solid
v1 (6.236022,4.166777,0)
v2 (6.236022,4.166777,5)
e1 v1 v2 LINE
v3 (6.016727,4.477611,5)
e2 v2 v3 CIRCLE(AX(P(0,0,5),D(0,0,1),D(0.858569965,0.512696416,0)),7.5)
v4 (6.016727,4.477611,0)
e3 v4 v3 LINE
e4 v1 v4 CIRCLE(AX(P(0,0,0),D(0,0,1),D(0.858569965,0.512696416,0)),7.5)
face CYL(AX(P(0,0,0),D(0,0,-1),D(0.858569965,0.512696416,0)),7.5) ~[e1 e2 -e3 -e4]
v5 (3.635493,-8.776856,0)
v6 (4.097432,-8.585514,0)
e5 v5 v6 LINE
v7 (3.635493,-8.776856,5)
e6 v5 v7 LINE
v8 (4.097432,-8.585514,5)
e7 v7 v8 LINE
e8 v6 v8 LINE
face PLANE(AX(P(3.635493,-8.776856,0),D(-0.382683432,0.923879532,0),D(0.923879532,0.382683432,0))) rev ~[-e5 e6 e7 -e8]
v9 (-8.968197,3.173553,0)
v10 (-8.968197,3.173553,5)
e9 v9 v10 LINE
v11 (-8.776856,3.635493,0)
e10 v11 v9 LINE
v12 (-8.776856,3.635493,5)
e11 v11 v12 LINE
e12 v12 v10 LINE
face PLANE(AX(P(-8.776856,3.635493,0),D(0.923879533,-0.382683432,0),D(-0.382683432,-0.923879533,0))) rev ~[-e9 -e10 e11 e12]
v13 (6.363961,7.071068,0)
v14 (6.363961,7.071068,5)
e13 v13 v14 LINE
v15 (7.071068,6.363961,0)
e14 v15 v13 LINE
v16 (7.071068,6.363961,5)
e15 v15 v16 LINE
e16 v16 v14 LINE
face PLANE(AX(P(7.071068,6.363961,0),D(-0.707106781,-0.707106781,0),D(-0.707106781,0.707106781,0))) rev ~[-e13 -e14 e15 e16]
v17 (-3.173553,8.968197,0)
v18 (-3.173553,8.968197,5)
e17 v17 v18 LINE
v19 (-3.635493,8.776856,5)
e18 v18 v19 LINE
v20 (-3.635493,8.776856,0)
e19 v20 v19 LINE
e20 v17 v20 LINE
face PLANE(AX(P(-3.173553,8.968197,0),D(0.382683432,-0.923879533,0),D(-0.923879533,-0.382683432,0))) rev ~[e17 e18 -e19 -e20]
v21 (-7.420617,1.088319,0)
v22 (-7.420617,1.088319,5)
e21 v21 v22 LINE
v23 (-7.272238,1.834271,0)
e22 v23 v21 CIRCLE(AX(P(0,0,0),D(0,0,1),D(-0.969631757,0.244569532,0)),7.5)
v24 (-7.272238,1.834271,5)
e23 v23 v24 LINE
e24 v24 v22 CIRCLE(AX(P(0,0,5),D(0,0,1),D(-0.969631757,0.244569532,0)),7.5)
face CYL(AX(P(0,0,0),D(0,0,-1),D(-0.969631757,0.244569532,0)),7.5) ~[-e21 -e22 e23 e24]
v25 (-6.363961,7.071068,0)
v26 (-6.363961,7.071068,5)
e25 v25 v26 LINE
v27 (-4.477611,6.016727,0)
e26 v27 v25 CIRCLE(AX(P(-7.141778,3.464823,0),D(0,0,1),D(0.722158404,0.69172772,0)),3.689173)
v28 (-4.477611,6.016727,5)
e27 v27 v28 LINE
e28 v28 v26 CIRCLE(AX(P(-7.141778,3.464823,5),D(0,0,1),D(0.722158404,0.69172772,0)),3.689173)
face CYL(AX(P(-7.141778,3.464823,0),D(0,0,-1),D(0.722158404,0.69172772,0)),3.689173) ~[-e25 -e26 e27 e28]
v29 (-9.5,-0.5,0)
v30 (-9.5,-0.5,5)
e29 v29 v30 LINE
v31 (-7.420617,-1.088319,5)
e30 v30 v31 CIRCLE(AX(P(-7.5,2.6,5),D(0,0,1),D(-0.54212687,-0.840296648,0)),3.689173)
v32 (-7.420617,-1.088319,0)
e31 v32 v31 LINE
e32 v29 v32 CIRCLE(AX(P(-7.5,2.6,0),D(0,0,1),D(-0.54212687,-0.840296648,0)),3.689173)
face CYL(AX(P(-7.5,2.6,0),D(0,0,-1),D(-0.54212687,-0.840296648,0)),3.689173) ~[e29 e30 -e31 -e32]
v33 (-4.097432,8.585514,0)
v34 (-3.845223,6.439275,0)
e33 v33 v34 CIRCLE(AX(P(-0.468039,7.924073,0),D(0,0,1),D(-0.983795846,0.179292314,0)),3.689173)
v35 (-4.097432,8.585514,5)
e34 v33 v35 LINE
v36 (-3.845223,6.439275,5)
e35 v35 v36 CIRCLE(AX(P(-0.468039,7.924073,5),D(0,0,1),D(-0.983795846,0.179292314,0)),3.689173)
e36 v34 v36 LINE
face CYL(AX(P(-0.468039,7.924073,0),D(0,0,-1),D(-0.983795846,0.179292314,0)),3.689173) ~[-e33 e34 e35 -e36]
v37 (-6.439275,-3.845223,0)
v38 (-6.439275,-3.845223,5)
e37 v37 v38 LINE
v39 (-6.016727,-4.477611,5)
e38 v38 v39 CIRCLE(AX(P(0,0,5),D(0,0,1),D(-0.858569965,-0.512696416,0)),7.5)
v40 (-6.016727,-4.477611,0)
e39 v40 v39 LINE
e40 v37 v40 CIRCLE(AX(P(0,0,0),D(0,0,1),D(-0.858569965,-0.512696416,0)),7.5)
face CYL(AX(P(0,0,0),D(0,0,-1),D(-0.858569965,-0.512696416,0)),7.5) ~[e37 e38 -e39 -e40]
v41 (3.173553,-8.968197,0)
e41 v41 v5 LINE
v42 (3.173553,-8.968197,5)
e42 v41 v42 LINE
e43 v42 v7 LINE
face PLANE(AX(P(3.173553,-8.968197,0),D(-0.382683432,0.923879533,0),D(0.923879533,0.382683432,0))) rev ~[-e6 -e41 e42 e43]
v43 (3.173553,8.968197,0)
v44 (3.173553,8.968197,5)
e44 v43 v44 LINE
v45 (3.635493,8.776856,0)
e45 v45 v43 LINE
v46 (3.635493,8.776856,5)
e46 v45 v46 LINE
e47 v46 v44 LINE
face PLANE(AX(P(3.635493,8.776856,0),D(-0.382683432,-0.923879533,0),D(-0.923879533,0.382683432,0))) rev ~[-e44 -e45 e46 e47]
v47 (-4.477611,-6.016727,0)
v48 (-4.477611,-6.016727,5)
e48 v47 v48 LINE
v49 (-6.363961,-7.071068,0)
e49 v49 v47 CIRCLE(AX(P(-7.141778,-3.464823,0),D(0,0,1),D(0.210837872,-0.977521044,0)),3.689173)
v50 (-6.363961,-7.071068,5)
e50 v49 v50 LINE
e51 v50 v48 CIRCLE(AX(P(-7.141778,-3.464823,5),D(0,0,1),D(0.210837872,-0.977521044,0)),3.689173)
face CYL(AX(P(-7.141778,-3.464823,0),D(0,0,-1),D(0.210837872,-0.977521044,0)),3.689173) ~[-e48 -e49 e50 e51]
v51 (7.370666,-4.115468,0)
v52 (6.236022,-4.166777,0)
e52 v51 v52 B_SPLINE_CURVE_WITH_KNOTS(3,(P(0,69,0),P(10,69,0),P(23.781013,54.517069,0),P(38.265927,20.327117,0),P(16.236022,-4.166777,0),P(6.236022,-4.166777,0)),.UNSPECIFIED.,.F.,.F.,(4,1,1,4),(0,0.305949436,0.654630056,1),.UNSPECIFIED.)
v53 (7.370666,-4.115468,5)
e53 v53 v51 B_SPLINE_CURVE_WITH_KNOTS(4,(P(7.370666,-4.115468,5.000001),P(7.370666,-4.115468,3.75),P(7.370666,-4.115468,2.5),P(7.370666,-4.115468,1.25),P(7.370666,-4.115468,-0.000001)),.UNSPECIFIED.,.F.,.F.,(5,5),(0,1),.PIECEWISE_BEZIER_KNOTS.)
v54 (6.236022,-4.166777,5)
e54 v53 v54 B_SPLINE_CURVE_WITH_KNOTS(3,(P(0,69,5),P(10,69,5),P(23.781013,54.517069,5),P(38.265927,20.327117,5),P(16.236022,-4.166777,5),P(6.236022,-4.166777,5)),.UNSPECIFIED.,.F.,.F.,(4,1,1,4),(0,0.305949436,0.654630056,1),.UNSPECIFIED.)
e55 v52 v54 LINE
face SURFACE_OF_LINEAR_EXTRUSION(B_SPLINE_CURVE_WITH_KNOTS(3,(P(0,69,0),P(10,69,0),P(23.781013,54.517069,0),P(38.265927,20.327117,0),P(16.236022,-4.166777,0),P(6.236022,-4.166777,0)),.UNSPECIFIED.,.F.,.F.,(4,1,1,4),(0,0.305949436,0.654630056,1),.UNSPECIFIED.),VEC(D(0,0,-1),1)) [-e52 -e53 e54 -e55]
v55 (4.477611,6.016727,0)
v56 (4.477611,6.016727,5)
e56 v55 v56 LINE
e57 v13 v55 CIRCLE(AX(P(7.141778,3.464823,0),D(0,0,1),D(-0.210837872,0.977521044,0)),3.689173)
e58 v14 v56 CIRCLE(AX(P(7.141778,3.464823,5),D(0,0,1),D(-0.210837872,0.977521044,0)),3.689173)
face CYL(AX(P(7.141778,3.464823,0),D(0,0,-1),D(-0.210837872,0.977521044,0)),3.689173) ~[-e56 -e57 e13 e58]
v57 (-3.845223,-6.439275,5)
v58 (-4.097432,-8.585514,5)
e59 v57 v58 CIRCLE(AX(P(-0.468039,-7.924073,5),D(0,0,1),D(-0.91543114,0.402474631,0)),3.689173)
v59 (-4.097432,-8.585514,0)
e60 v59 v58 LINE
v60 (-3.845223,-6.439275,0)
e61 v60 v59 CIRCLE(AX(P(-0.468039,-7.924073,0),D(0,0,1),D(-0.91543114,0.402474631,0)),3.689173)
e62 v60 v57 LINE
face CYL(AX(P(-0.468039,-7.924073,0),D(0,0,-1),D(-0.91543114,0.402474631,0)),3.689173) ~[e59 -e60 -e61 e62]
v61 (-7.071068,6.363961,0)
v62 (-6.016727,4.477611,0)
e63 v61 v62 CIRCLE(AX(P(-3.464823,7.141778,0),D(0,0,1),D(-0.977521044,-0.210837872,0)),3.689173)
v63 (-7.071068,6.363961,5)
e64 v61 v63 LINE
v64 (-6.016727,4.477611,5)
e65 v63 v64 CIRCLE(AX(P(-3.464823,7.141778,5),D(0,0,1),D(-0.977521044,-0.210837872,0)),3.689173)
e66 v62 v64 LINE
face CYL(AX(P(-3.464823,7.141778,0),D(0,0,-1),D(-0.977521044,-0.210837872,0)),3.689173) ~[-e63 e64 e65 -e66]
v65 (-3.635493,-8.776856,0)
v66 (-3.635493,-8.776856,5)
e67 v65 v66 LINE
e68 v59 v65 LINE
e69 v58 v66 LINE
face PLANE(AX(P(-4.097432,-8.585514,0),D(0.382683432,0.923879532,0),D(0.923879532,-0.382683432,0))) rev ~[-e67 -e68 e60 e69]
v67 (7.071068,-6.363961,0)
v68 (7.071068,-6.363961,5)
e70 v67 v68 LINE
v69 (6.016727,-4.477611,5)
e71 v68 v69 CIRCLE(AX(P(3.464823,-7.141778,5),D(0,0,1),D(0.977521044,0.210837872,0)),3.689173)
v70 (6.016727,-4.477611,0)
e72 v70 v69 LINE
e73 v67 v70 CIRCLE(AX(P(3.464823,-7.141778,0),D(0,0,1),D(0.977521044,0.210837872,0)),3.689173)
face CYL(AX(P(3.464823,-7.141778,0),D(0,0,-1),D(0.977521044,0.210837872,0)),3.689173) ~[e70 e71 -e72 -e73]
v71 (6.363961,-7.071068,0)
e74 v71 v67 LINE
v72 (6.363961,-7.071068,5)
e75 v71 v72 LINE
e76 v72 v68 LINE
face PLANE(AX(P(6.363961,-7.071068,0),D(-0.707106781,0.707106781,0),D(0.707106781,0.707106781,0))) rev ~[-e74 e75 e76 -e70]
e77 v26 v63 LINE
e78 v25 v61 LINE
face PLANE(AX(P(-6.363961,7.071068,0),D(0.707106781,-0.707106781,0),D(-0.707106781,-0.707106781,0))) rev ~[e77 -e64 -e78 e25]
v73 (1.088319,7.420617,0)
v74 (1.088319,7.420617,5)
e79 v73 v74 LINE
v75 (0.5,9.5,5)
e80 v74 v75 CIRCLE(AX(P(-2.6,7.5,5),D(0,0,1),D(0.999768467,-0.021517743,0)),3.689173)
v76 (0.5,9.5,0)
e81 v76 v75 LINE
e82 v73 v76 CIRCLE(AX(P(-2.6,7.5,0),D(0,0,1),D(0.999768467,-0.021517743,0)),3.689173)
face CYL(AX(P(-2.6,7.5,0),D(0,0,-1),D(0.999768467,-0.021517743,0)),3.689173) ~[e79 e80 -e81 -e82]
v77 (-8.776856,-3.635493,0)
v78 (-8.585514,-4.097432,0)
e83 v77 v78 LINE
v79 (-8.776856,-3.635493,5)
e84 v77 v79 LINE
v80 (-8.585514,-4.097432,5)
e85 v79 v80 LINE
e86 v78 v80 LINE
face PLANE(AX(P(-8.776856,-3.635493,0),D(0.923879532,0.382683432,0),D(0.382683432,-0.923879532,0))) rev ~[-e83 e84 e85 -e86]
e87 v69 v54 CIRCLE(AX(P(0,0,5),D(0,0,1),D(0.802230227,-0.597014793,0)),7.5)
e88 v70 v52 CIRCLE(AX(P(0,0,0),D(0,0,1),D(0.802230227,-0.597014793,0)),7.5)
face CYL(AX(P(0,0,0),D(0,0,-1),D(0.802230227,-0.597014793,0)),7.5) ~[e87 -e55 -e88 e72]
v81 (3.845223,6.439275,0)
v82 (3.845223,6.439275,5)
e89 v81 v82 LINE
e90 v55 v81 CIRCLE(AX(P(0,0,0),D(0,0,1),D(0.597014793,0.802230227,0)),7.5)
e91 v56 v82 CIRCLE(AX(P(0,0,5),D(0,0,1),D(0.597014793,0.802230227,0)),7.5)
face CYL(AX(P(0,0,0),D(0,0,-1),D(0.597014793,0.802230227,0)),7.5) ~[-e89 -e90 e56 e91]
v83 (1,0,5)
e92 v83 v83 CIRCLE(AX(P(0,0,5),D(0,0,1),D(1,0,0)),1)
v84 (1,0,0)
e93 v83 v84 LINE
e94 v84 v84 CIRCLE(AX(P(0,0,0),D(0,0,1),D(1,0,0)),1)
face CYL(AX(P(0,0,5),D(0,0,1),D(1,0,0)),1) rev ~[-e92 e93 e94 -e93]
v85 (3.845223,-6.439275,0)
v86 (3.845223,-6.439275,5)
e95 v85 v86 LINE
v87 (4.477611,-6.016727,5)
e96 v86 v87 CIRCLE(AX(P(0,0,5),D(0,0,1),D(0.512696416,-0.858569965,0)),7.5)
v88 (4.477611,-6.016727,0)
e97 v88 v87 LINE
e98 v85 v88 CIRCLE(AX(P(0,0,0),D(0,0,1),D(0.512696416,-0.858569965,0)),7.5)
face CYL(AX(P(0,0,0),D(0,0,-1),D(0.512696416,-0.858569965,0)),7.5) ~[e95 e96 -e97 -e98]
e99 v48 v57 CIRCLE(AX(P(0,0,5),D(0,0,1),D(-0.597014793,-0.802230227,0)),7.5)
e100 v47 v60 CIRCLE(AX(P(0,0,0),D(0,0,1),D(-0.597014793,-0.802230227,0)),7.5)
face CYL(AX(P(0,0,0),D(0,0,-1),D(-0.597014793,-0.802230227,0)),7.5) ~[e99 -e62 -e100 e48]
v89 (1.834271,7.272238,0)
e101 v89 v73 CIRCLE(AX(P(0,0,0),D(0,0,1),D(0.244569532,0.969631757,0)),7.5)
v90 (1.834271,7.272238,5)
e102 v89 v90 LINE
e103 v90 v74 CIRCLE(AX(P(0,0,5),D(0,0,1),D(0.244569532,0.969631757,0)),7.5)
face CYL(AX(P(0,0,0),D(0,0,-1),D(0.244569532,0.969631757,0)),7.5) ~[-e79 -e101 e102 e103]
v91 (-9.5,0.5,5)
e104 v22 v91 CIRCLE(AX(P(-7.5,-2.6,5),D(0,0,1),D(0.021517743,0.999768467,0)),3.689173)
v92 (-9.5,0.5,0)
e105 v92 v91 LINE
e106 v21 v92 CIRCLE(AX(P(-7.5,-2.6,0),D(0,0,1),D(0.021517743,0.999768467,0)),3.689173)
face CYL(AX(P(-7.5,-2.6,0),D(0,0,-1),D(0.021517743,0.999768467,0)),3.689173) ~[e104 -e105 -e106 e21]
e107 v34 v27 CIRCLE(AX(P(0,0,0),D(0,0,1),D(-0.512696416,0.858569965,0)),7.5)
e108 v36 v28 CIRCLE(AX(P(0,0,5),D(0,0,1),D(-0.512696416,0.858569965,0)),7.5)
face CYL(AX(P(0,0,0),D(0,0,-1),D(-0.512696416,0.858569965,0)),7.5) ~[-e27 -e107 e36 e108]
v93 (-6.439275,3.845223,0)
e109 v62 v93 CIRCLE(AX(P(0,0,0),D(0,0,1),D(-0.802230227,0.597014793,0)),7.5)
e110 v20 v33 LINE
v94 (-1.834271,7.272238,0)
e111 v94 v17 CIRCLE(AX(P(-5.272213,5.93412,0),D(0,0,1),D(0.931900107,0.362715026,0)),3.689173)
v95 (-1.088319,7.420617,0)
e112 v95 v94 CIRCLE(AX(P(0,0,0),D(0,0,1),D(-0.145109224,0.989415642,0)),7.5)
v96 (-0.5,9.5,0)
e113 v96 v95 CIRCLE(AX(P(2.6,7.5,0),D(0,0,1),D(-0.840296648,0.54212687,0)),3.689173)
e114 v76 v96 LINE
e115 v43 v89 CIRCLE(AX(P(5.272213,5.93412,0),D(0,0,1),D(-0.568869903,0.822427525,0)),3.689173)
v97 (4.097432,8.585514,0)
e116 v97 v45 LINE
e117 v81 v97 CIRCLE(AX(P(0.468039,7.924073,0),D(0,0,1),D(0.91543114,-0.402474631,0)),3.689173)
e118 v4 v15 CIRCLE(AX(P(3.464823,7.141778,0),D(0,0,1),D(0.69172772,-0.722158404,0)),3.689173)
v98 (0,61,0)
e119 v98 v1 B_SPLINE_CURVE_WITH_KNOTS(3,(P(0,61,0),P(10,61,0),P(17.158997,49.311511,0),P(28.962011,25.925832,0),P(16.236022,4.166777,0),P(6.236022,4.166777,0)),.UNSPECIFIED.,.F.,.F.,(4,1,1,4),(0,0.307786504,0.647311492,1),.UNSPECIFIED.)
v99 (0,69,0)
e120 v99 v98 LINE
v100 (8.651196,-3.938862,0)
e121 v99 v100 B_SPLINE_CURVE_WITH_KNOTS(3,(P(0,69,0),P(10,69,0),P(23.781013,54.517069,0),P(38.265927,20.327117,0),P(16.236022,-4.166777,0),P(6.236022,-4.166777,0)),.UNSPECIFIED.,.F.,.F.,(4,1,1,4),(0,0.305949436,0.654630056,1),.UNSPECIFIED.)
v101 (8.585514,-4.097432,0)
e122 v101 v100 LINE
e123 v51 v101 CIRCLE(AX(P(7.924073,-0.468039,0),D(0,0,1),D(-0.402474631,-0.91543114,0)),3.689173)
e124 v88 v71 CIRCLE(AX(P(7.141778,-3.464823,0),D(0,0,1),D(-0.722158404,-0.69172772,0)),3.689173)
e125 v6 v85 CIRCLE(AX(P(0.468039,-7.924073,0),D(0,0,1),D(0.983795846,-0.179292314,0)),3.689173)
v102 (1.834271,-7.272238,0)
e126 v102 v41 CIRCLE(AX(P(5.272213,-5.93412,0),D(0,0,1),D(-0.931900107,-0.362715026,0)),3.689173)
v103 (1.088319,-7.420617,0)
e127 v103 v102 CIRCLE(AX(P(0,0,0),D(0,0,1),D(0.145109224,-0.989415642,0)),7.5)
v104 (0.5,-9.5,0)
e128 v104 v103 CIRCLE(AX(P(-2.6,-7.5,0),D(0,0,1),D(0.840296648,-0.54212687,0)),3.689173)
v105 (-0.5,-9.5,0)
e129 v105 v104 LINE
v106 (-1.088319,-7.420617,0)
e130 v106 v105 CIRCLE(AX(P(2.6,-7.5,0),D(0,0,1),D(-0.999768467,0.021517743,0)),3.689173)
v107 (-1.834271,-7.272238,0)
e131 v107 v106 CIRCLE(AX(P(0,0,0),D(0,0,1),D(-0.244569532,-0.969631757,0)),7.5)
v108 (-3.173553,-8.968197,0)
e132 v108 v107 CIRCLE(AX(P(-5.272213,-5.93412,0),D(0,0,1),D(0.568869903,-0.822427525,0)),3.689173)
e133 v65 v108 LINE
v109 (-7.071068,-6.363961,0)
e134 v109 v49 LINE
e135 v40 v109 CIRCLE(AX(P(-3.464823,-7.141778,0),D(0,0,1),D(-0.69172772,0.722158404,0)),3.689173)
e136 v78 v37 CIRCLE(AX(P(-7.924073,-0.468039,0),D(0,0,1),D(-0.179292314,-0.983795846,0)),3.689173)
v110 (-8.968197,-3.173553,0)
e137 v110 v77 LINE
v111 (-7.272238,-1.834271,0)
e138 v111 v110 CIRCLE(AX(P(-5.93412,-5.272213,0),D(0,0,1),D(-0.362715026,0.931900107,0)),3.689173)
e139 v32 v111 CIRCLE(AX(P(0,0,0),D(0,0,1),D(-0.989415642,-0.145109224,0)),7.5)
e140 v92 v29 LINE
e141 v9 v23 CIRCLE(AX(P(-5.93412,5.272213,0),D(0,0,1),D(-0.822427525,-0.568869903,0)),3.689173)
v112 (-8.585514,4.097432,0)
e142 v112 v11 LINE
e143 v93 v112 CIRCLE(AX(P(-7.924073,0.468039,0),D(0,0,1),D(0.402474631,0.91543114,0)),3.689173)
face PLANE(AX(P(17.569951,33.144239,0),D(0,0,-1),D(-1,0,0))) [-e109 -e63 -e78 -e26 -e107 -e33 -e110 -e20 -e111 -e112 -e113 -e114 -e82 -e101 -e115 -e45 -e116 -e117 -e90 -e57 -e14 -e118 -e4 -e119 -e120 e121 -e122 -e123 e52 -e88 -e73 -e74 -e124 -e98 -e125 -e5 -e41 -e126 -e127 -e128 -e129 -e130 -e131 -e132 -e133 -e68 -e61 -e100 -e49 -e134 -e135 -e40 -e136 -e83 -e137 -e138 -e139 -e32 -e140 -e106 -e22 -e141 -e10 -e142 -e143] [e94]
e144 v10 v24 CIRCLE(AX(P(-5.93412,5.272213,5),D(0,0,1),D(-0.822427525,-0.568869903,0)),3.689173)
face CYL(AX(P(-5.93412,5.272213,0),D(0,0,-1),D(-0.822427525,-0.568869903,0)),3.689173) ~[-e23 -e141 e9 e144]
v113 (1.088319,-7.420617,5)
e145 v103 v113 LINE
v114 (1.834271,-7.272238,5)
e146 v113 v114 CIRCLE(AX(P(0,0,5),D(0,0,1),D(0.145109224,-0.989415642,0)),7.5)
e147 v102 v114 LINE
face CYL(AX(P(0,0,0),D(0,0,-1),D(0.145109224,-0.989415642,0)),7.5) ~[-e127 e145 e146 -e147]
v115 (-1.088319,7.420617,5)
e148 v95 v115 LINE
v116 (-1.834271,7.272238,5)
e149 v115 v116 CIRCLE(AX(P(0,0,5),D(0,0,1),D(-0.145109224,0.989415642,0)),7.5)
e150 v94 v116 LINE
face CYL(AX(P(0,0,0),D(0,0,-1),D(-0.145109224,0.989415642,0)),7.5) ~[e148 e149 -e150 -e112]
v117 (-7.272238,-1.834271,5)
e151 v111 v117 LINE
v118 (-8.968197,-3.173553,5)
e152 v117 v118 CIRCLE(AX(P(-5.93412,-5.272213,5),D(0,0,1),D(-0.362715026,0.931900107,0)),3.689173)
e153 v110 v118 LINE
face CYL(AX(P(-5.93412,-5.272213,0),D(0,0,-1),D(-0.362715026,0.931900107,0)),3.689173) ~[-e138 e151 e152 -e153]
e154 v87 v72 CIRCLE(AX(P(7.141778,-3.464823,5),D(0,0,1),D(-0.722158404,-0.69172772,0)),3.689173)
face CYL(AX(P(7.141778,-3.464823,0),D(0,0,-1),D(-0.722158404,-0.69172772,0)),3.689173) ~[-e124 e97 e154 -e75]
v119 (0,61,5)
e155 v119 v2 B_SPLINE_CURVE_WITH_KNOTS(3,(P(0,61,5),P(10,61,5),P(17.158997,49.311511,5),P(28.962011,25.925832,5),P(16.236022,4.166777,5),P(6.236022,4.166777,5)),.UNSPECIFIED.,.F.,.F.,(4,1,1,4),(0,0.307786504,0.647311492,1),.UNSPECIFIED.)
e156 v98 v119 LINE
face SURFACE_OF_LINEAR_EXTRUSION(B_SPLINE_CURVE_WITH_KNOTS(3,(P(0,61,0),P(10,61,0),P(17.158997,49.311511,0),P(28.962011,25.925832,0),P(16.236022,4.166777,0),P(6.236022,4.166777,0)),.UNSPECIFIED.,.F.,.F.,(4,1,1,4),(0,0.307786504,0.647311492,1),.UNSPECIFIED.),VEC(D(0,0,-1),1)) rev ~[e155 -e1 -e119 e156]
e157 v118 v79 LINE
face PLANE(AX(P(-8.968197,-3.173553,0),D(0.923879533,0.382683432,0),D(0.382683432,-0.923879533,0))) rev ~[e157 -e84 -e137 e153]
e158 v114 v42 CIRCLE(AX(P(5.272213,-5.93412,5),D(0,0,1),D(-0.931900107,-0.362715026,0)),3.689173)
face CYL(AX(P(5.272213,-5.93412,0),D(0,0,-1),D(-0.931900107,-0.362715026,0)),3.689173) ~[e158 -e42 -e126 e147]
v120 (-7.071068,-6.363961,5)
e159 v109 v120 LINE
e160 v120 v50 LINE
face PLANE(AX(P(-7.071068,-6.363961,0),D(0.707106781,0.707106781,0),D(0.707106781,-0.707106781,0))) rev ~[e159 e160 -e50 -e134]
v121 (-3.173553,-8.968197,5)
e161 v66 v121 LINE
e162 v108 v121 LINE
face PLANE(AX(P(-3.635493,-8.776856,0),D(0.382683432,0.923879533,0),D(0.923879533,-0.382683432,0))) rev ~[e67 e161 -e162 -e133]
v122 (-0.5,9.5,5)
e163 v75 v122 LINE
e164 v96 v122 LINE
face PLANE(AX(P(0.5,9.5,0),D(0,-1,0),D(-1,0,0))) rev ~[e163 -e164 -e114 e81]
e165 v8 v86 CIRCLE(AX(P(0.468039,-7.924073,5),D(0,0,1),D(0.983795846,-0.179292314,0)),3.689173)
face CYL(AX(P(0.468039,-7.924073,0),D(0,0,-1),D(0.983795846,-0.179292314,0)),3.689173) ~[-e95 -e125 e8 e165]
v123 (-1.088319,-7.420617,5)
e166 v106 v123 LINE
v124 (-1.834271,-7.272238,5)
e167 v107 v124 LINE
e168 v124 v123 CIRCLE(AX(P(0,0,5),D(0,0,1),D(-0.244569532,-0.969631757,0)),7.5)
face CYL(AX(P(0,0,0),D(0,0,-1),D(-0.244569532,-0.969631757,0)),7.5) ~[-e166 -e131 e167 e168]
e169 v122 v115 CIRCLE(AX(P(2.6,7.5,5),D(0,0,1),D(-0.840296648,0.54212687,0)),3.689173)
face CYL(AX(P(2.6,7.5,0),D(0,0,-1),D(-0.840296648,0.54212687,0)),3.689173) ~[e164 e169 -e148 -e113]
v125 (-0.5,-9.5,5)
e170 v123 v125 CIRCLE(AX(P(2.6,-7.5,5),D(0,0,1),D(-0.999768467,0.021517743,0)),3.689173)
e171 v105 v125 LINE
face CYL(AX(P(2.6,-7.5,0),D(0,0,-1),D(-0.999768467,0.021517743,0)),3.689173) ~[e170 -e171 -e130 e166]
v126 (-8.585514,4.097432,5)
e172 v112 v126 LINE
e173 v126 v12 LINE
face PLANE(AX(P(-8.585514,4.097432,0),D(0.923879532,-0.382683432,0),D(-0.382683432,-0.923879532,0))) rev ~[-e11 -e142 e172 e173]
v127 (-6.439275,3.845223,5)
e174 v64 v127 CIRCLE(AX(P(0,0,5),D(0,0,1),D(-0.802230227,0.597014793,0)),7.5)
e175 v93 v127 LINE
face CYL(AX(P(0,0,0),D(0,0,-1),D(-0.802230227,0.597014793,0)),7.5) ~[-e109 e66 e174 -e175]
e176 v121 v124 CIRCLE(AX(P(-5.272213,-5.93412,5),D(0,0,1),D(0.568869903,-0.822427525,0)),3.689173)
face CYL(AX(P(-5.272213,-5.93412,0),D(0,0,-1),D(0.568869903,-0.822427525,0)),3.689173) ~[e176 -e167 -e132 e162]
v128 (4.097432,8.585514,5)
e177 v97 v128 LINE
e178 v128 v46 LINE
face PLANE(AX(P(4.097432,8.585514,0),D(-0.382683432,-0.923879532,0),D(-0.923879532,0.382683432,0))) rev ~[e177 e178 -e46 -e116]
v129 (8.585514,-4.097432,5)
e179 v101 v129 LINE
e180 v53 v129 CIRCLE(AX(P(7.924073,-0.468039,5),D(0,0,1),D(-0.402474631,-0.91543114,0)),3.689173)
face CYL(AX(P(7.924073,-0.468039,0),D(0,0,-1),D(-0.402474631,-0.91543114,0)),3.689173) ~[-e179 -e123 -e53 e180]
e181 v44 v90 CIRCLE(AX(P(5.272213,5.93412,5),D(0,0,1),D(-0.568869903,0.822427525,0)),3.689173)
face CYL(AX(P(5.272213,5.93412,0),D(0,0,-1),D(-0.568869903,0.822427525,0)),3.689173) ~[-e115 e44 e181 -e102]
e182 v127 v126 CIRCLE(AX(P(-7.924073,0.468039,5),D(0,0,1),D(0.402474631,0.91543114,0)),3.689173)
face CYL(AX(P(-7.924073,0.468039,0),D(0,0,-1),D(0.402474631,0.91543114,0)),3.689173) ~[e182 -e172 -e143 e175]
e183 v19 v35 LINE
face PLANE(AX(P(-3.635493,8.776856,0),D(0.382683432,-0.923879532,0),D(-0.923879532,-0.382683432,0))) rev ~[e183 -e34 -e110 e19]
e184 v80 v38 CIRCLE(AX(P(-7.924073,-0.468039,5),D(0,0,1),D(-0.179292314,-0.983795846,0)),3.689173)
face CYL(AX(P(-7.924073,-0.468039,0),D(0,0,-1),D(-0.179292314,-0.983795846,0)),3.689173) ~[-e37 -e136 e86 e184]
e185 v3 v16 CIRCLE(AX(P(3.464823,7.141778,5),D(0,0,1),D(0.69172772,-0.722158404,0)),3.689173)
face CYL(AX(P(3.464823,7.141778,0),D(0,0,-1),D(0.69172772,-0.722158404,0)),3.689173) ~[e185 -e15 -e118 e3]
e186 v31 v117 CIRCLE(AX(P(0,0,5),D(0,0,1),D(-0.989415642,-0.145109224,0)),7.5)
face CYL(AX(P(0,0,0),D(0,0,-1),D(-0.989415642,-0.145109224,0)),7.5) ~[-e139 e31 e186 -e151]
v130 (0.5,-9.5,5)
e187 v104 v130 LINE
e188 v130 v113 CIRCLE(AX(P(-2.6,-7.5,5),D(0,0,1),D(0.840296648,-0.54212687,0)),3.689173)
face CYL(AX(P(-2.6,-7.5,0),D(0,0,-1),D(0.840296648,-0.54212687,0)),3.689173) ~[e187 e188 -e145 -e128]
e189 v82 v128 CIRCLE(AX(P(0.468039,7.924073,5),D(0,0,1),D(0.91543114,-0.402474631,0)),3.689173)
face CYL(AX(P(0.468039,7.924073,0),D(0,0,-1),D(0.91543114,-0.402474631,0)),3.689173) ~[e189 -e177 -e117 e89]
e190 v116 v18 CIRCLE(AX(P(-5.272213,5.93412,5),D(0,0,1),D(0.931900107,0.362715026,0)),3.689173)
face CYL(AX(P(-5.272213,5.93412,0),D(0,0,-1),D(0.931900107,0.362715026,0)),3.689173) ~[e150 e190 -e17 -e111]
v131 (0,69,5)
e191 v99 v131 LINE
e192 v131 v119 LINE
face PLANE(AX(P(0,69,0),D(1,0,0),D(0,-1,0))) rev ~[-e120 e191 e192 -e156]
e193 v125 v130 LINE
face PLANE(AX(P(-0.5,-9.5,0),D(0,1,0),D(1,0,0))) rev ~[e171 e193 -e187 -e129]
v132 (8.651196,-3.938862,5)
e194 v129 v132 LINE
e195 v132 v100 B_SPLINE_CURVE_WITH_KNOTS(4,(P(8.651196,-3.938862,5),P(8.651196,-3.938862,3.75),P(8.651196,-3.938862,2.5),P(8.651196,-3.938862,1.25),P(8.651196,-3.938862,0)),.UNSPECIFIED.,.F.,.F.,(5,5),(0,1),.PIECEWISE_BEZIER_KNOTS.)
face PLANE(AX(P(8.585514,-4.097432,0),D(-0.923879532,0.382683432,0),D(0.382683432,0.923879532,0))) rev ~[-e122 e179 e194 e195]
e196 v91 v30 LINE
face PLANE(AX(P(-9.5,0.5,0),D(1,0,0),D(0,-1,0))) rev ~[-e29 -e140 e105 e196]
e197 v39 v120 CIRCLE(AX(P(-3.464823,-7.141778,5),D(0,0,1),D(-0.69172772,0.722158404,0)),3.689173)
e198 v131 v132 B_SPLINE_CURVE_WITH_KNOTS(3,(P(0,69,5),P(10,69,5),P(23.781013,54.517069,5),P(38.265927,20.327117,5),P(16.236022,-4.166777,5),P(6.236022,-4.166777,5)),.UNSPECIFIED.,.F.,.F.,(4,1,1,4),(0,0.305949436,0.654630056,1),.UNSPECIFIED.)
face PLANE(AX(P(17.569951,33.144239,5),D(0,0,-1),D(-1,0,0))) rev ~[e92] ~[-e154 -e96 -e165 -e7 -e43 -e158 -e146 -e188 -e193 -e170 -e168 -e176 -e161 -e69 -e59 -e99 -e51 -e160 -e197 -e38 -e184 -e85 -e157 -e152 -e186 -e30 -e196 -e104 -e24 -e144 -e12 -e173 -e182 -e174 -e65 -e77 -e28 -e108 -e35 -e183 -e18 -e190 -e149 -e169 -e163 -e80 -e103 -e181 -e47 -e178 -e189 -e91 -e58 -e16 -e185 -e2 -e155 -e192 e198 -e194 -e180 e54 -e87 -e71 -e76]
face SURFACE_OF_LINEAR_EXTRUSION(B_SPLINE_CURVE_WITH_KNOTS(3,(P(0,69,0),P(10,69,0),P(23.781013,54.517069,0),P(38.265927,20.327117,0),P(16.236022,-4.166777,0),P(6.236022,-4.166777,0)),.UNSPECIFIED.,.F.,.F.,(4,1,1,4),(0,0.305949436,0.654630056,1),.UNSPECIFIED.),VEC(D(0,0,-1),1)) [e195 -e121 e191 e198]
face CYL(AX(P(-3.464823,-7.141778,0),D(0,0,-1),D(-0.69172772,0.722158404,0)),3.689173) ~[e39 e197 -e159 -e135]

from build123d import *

# Parameters (mm, degrees)
F1_DEPTH = 5
F2_R     = 1
F3_DEPTH = 5.001
F5_DEPTH = 5


with BuildPart() as f1:
    # F0 (on Top) → F1 (new body)
    with BuildSketch(Plane.XY):
        with BuildLine():
            ThreePointArc((7.4206173165, -1.0883191822), (7.4801280027, -0.5456052265), (7.5, 0))
            ThreePointArc((7.5, 0), (7.4801280027, 0.5456052265), (7.4206173165, 1.0883191822))
            ThreePointArc((7.4206173165, 1.0883191822), (7.355889603, 1.4631774151), (7.2722381774, 1.8342714877))
            ThreePointArc((7.2722381774, 1.8342714877), (6.9290964938, 2.8701257427), (6.4392747372, 3.8452231222))
            ThreePointArc((6.4392747372, 3.8452231222), (6.2360220923, 4.1667767476), (6.0167266989, 4.4776109513))
            ThreePointArc((6.0167266989, 4.4776109513), (5.3033008589, 5.3033008589), (4.4776109513, 6.0167266989))
            ThreePointArc((4.4776109513, 6.0167266989), (4.1667767476, 6.2360220923), (3.8452231222, 6.4392747372))
            ThreePointArc((3.8452231222, 6.4392747372), (2.8701257427, 6.9290964938), (1.8342714877, 7.2722381774))
            ThreePointArc((1.8342714877, 7.2722381774), (1.4631774151, 7.355889603), (1.0883191822, 7.4206173165))
            ThreePointArc((1.0883191822, 7.4206173165), (0, 7.5), (-1.0883191822, 7.4206173165))
            ThreePointArc((-1.0883191822, 7.4206173165), (-1.4631774151, 7.355889603), (-1.8342714877, 7.2722381774))
            ThreePointArc((-1.8342714877, 7.2722381774), (-2.8701257427, 6.9290964938), (-3.8452231222, 6.4392747372))
            ThreePointArc((-3.8452231222, 6.4392747372), (-4.1667767476, 6.2360220923), (-4.4776109513, 6.0167266989))
            ThreePointArc((-4.4776109513, 6.0167266989), (-5.3033008589, 5.3033008589), (-6.0167266989, 4.4776109513))
            ThreePointArc((-6.0167266989, 4.4776109513), (-6.2360220923, 4.1667767476), (-6.4392747372, 3.8452231222))
            ThreePointArc((-6.4392747372, 3.8452231222), (-6.9290964938, 2.8701257427), (-7.2722381774, 1.8342714877))
            ThreePointArc((-7.2722381774, 1.8342714877), (-7.355889603, 1.4631774151), (-7.4206173165, 1.0883191822))
            ThreePointArc((-7.4206173165, 1.0883191822), (-7.5, 0), (-7.4206173165, -1.0883191822))
            ThreePointArc((-7.4206173165, -1.0883191822), (-7.355889603, -1.4631774151), (-7.2722381774, -1.8342714877))
            ThreePointArc((-7.2722381774, -1.8342714877), (-6.9290964938, -2.8701257427), (-6.4392747372, -3.8452231222))
            ThreePointArc((-6.4392747372, -3.8452231222), (-6.2360220923, -4.1667767476), (-6.0167266989, -4.4776109513))
            ThreePointArc((-6.0167266989, -4.4776109513), (-5.3033008589, -5.3033008589), (-4.4776109513, -6.0167266989))
            ThreePointArc((-4.4776109513, -6.0167266989), (-4.1667767476, -6.2360220923), (-3.8452231222, -6.4392747372))
            ThreePointArc((-3.8452231222, -6.4392747372), (-2.8701257427, -6.9290964938), (-1.8342714877, -7.2722381774))
            ThreePointArc((-1.8342714877, -7.2722381774), (-1.4631774151, -7.355889603), (-1.0883191822, -7.4206173165))
            ThreePointArc((-1.0883191822, -7.4206173165), (0, -7.5), (1.0883191822, -7.4206173165))
            ThreePointArc((1.0883191822, -7.4206173165), (1.4631774151, -7.355889603), (1.8342714877, -7.2722381774))
            ThreePointArc((1.8342714877, -7.2722381774), (2.8701257427, -6.9290964938), (3.8452231222, -6.4392747372))
            ThreePointArc((3.8452231222, -6.4392747372), (4.1667767476, -6.2360220923), (4.4776109513, -6.0167266989))
            ThreePointArc((4.4776109513, -6.0167266989), (5.3033008589, -5.3033008589), (6.0167266989, -4.4776109513))
            ThreePointArc((6.0167266989, -4.4776109513), (6.2360220923, -4.1667767476), (6.4392747372, -3.8452231222))
            ThreePointArc((6.4392747372, -3.8452231222), (6.9290964938, -2.8701257427), (7.2722381774, -1.8342714877))
            ThreePointArc((7.2722381774, -1.8342714877), (7.355889603, -1.4631774151), (7.4206173165, -1.0883191822))
        make_face()
        with BuildLine():
            ThreePointArc((7.4206173165, 1.0883191822), (7.4801280027, 0.5456052265), (7.5, 0))
            ThreePointArc((7.5, 0), (7.4801280027, -0.5456052265), (7.4206173165, -1.0883191822))
            ThreePointArc((7.4206173165, -1.0883191822), (8.5043518229, -0.9498278009), (9.5, -0.5))
            Line((9.5, -0.5), (9.5, 0))
            Line((9.5, 0), (9.5, 0.5))
            ThreePointArc((9.5, 0.5), (8.5043518229, 0.9498278009), (7.4206173165, 1.0883191822))
        make_face()
        with BuildLine():
            ThreePointArc((6.4392747372, 3.8452231222), (6.9290964938, 2.8701257427), (7.2722381774, 1.8342714877))
            ThreePointArc((7.2722381774, 1.8342714877), (8.2204799494, 2.376948081), (8.968197275, 3.1735528412))
            Line((8.968197275, 3.1735528412), (8.7768555589, 3.6354926075))
            Line((8.7768555589, 3.6354926075), (8.5855138427, 4.0974323737))
            ThreePointArc((8.5855138427, 4.0974323737), (7.4935132234, 4.1320010103), (6.4392747372, 3.8452231222))
        make_face()
        with BuildLine():
            ThreePointArc((8.968197275, -3.1735528412), (8.2204799494, -2.376948081), (7.2722381774, -1.8342714877))
            ThreePointArc((7.2722381774, -1.8342714877), (6.9290964938, -2.8701257427), (6.4392747372, -3.8452231222))
            ThreePointArc((6.4392747372, -3.8452231222), (7.4935132234, -4.1320010103), (8.5855138427, -4.0974323737))
            Line((8.5855138427, -4.0974323737), (8.7768555589, -3.6354926075))
            Line((8.7768555589, -3.6354926075), (8.968197275, -3.1735528412))
        make_face()
        with BuildLine():
            ThreePointArc((4.4776109513, 6.0167266989), (5.3033008589, 5.3033008589), (6.0167266989, 4.4776109513))
            ThreePointArc((6.0167266989, 4.4776109513), (6.6851145225, 5.3418551646), (7.0710678119, 6.3639610307))
            Line((7.0710678119, 6.3639610307), (6.7175144213, 6.7175144213))
            Line((6.7175144213, 6.7175144213), (6.3639610307, 7.0710678119))
            ThreePointArc((6.3639610307, 7.0710678119), (5.3418551646, 6.6851145225), (4.4776109513, 6.0167266989))
        make_face()
        with BuildLine():
            ThreePointArc((7.0710678119, -6.3639610307), (6.6851145225, -5.3418551646), (6.0167266989, -4.4776109513))
            ThreePointArc((6.0167266989, -4.4776109513), (5.3033008589, -5.3033008589), (4.4776109513, -6.0167266989))
            ThreePointArc((4.4776109513, -6.0167266989), (5.3418551646, -6.6851145225), (6.3639610307, -7.0710678119))
            Line((6.3639610307, -7.0710678119), (6.7175144213, -6.7175144213))
            Line((6.7175144213, -6.7175144213), (7.0710678119, -6.3639610307))
        make_face()
        with BuildLine():
            ThreePointArc((1.8342714877, 7.2722381774), (2.8701257427, 6.9290964938), (3.8452231222, 6.4392747372))
            ThreePointArc((3.8452231222, 6.4392747372), (4.1320010103, 7.4935132234), (4.0974323737, 8.5855138427))
            Line((4.0974323737, 8.5855138427), (3.6354926075, 8.7768555589))
            Line((3.6354926075, 8.7768555589), (3.1735528412, 8.968197275))
            ThreePointArc((3.1735528412, 8.968197275), (2.376948081, 8.2204799494), (1.8342714877, 7.2722381774))
        make_face()
        with BuildLine():
            ThreePointArc((4.0974323737, -8.5855138427), (4.1320010103, -7.4935132234), (3.8452231222, -6.4392747372))
            ThreePointArc((3.8452231222, -6.4392747372), (2.8701257427, -6.9290964938), (1.8342714877, -7.2722381774))
            ThreePointArc((1.8342714877, -7.2722381774), (2.376948081, -8.2204799494), (3.1735528412, -8.968197275))
            Line((3.1735528412, -8.968197275), (3.6354926075, -8.7768555589))
            Line((3.6354926075, -8.7768555589), (4.0974323737, -8.5855138427))
        make_face()
        with BuildLine():
            ThreePointArc((-1.0883191822, 7.4206173165), (0, 7.5), (1.0883191822, 7.4206173165))
            ThreePointArc((1.0883191822, 7.4206173165), (0.9498278009, 8.5043518229), (0.5, 9.5))
            Line((0.5, 9.5), (0, 9.5))
            Line((0, 9.5), (-0.5, 9.5))
            ThreePointArc((-0.5, 9.5), (-0.9498278009, 8.5043518229), (-1.0883191822, 7.4206173165))
        make_face()
        with BuildLine():
            ThreePointArc((0.5, -9.5), (0.9498278009, -8.5043518229), (1.0883191822, -7.4206173165))
            ThreePointArc((1.0883191822, -7.4206173165), (0, -7.5), (-1.0883191822, -7.4206173165))
            ThreePointArc((-1.0883191822, -7.4206173165), (-0.9498278009, -8.5043518229), (-0.5, -9.5))
            Line((-0.5, -9.5), (0, -9.5))
            Line((0, -9.5), (0.5, -9.5))
        make_face()
        with BuildLine():
            ThreePointArc((-3.8452231222, 6.4392747372), (-2.8701257427, 6.9290964938), (-1.8342714877, 7.2722381774))
            ThreePointArc((-1.8342714877, 7.2722381774), (-2.376948081, 8.2204799494), (-3.1735528412, 8.968197275))
            Line((-3.1735528412, 8.968197275), (-3.6354926075, 8.7768555589))
            Line((-3.6354926075, 8.7768555589), (-4.0974323737, 8.5855138427))
            ThreePointArc((-4.0974323737, 8.5855138427), (-4.1320010103, 7.4935132234), (-3.8452231222, 6.4392747372))
        make_face()
        with BuildLine():
            ThreePointArc((-3.1735528412, -8.968197275), (-2.376948081, -8.2204799494), (-1.8342714877, -7.2722381774))
            ThreePointArc((-1.8342714877, -7.2722381774), (-2.8701257427, -6.9290964938), (-3.8452231222, -6.4392747372))
            ThreePointArc((-3.8452231222, -6.4392747372), (-4.1320010103, -7.4935132234), (-4.0974323737, -8.5855138427))
            Line((-4.0974323737, -8.5855138427), (-3.6354926075, -8.7768555589))
            Line((-3.6354926075, -8.7768555589), (-3.1735528412, -8.968197275))
        make_face()
        with BuildLine():
            ThreePointArc((-6.0167266989, 4.4776109513), (-5.3033008589, 5.3033008589), (-4.4776109513, 6.0167266989))
            ThreePointArc((-4.4776109513, 6.0167266989), (-5.3418551646, 6.6851145225), (-6.3639610307, 7.0710678119))
            Line((-6.3639610307, 7.0710678119), (-6.7175144213, 6.7175144213))
            Line((-6.7175144213, 6.7175144213), (-7.0710678119, 6.3639610307))
            ThreePointArc((-7.0710678119, 6.3639610307), (-6.6851145225, 5.3418551646), (-6.0167266989, 4.4776109513))
        make_face()
        with BuildLine():
            ThreePointArc((-6.3639610307, -7.0710678119), (-5.3418551646, -6.6851145225), (-4.4776109513, -6.0167266989))
            ThreePointArc((-4.4776109513, -6.0167266989), (-5.3033008589, -5.3033008589), (-6.0167266989, -4.4776109513))
            ThreePointArc((-6.0167266989, -4.4776109513), (-6.6851145225, -5.3418551646), (-7.0710678119, -6.3639610307))
            Line((-7.0710678119, -6.3639610307), (-6.7175144213, -6.7175144213))
            Line((-6.7175144213, -6.7175144213), (-6.3639610307, -7.0710678119))
        make_face()
        with BuildLine():
            ThreePointArc((-7.2722381774, 1.8342714877), (-6.9290964938, 2.8701257427), (-6.4392747372, 3.8452231222))
            ThreePointArc((-6.4392747372, 3.8452231222), (-7.4935132234, 4.1320010103), (-8.5855138427, 4.0974323737))
            Line((-8.5855138427, 4.0974323737), (-8.7768555589, 3.6354926075))
            Line((-8.7768555589, 3.6354926075), (-8.968197275, 3.1735528412))
            ThreePointArc((-8.968197275, 3.1735528412), (-8.2204799494, 2.376948081), (-7.2722381774, 1.8342714877))
        make_face()
        with BuildLine():
            ThreePointArc((-8.5855138427, -4.0974323737), (-7.4935132234, -4.1320010103), (-6.4392747372, -3.8452231222))
            ThreePointArc((-6.4392747372, -3.8452231222), (-6.9290964938, -2.8701257427), (-7.2722381774, -1.8342714877))
            ThreePointArc((-7.2722381774, -1.8342714877), (-8.2204799494, -2.376948081), (-8.968197275, -3.1735528412))
            Line((-8.968197275, -3.1735528412), (-8.7768555589, -3.6354926075))
            Line((-8.7768555589, -3.6354926075), (-8.5855138427, -4.0974323737))
        make_face()
        with BuildLine():
            ThreePointArc((-7.4206173165, -1.0883191822), (-7.5, 0), (-7.4206173165, 1.0883191822))
            ThreePointArc((-7.4206173165, 1.0883191822), (-8.5043518229, 0.9498278009), (-9.5, 0.5))
            Line((-9.5, 0.5), (-9.5, 0))
            Line((-9.5, 0), (-9.5, -0.5))
            ThreePointArc((-9.5, -0.5), (-8.5043518229, -0.9498278009), (-7.4206173165, -1.0883191822))
        make_face()
    extrude(amount=F1_DEPTH)

    # F2 (on face) → F3 (cut, through all)
    with BuildSketch(Plane.XY.offset(5)):
        Circle(F2_R)
    extrude(amount=-F3_DEPTH, mode=Mode.SUBTRACT)

    # F4 (on Top) → F5 (join, through all)
    with BuildSketch(Plane.XY):
        with BuildLine():
            add(Edge.make_bspline(
                [(0, 69), (10, 69), (23.7810131415, 54.517068575), (38.2659269705, 20.3271174858), (16.2360220923, -4.1667767476), (6.2360220923, -4.1667767476)],
                knots=[0, 0, 0, 0, 0.3059494361, 0.6546300561, 1, 1, 1, 1], degree=3))
            Line((0, 69), (0, 61))
            add(Edge.make_bspline(
                [(0, 61), (10, 61), (17.158997377, 49.3115106265), (28.9620106824, 25.9258319124), (16.2360220923, 4.1667767476), (6.2360220923, 4.1667767476)],
                knots=[0, 0, 0, 0, 0.3077865037, 0.6473114919, 1, 1, 1, 1], degree=3))
            Line((6.2360220923, 4.1667767476), (6.2360220923, -4.1667767476))
        make_face()
    extrude(amount=F5_DEPTH)


solid = f1.part
